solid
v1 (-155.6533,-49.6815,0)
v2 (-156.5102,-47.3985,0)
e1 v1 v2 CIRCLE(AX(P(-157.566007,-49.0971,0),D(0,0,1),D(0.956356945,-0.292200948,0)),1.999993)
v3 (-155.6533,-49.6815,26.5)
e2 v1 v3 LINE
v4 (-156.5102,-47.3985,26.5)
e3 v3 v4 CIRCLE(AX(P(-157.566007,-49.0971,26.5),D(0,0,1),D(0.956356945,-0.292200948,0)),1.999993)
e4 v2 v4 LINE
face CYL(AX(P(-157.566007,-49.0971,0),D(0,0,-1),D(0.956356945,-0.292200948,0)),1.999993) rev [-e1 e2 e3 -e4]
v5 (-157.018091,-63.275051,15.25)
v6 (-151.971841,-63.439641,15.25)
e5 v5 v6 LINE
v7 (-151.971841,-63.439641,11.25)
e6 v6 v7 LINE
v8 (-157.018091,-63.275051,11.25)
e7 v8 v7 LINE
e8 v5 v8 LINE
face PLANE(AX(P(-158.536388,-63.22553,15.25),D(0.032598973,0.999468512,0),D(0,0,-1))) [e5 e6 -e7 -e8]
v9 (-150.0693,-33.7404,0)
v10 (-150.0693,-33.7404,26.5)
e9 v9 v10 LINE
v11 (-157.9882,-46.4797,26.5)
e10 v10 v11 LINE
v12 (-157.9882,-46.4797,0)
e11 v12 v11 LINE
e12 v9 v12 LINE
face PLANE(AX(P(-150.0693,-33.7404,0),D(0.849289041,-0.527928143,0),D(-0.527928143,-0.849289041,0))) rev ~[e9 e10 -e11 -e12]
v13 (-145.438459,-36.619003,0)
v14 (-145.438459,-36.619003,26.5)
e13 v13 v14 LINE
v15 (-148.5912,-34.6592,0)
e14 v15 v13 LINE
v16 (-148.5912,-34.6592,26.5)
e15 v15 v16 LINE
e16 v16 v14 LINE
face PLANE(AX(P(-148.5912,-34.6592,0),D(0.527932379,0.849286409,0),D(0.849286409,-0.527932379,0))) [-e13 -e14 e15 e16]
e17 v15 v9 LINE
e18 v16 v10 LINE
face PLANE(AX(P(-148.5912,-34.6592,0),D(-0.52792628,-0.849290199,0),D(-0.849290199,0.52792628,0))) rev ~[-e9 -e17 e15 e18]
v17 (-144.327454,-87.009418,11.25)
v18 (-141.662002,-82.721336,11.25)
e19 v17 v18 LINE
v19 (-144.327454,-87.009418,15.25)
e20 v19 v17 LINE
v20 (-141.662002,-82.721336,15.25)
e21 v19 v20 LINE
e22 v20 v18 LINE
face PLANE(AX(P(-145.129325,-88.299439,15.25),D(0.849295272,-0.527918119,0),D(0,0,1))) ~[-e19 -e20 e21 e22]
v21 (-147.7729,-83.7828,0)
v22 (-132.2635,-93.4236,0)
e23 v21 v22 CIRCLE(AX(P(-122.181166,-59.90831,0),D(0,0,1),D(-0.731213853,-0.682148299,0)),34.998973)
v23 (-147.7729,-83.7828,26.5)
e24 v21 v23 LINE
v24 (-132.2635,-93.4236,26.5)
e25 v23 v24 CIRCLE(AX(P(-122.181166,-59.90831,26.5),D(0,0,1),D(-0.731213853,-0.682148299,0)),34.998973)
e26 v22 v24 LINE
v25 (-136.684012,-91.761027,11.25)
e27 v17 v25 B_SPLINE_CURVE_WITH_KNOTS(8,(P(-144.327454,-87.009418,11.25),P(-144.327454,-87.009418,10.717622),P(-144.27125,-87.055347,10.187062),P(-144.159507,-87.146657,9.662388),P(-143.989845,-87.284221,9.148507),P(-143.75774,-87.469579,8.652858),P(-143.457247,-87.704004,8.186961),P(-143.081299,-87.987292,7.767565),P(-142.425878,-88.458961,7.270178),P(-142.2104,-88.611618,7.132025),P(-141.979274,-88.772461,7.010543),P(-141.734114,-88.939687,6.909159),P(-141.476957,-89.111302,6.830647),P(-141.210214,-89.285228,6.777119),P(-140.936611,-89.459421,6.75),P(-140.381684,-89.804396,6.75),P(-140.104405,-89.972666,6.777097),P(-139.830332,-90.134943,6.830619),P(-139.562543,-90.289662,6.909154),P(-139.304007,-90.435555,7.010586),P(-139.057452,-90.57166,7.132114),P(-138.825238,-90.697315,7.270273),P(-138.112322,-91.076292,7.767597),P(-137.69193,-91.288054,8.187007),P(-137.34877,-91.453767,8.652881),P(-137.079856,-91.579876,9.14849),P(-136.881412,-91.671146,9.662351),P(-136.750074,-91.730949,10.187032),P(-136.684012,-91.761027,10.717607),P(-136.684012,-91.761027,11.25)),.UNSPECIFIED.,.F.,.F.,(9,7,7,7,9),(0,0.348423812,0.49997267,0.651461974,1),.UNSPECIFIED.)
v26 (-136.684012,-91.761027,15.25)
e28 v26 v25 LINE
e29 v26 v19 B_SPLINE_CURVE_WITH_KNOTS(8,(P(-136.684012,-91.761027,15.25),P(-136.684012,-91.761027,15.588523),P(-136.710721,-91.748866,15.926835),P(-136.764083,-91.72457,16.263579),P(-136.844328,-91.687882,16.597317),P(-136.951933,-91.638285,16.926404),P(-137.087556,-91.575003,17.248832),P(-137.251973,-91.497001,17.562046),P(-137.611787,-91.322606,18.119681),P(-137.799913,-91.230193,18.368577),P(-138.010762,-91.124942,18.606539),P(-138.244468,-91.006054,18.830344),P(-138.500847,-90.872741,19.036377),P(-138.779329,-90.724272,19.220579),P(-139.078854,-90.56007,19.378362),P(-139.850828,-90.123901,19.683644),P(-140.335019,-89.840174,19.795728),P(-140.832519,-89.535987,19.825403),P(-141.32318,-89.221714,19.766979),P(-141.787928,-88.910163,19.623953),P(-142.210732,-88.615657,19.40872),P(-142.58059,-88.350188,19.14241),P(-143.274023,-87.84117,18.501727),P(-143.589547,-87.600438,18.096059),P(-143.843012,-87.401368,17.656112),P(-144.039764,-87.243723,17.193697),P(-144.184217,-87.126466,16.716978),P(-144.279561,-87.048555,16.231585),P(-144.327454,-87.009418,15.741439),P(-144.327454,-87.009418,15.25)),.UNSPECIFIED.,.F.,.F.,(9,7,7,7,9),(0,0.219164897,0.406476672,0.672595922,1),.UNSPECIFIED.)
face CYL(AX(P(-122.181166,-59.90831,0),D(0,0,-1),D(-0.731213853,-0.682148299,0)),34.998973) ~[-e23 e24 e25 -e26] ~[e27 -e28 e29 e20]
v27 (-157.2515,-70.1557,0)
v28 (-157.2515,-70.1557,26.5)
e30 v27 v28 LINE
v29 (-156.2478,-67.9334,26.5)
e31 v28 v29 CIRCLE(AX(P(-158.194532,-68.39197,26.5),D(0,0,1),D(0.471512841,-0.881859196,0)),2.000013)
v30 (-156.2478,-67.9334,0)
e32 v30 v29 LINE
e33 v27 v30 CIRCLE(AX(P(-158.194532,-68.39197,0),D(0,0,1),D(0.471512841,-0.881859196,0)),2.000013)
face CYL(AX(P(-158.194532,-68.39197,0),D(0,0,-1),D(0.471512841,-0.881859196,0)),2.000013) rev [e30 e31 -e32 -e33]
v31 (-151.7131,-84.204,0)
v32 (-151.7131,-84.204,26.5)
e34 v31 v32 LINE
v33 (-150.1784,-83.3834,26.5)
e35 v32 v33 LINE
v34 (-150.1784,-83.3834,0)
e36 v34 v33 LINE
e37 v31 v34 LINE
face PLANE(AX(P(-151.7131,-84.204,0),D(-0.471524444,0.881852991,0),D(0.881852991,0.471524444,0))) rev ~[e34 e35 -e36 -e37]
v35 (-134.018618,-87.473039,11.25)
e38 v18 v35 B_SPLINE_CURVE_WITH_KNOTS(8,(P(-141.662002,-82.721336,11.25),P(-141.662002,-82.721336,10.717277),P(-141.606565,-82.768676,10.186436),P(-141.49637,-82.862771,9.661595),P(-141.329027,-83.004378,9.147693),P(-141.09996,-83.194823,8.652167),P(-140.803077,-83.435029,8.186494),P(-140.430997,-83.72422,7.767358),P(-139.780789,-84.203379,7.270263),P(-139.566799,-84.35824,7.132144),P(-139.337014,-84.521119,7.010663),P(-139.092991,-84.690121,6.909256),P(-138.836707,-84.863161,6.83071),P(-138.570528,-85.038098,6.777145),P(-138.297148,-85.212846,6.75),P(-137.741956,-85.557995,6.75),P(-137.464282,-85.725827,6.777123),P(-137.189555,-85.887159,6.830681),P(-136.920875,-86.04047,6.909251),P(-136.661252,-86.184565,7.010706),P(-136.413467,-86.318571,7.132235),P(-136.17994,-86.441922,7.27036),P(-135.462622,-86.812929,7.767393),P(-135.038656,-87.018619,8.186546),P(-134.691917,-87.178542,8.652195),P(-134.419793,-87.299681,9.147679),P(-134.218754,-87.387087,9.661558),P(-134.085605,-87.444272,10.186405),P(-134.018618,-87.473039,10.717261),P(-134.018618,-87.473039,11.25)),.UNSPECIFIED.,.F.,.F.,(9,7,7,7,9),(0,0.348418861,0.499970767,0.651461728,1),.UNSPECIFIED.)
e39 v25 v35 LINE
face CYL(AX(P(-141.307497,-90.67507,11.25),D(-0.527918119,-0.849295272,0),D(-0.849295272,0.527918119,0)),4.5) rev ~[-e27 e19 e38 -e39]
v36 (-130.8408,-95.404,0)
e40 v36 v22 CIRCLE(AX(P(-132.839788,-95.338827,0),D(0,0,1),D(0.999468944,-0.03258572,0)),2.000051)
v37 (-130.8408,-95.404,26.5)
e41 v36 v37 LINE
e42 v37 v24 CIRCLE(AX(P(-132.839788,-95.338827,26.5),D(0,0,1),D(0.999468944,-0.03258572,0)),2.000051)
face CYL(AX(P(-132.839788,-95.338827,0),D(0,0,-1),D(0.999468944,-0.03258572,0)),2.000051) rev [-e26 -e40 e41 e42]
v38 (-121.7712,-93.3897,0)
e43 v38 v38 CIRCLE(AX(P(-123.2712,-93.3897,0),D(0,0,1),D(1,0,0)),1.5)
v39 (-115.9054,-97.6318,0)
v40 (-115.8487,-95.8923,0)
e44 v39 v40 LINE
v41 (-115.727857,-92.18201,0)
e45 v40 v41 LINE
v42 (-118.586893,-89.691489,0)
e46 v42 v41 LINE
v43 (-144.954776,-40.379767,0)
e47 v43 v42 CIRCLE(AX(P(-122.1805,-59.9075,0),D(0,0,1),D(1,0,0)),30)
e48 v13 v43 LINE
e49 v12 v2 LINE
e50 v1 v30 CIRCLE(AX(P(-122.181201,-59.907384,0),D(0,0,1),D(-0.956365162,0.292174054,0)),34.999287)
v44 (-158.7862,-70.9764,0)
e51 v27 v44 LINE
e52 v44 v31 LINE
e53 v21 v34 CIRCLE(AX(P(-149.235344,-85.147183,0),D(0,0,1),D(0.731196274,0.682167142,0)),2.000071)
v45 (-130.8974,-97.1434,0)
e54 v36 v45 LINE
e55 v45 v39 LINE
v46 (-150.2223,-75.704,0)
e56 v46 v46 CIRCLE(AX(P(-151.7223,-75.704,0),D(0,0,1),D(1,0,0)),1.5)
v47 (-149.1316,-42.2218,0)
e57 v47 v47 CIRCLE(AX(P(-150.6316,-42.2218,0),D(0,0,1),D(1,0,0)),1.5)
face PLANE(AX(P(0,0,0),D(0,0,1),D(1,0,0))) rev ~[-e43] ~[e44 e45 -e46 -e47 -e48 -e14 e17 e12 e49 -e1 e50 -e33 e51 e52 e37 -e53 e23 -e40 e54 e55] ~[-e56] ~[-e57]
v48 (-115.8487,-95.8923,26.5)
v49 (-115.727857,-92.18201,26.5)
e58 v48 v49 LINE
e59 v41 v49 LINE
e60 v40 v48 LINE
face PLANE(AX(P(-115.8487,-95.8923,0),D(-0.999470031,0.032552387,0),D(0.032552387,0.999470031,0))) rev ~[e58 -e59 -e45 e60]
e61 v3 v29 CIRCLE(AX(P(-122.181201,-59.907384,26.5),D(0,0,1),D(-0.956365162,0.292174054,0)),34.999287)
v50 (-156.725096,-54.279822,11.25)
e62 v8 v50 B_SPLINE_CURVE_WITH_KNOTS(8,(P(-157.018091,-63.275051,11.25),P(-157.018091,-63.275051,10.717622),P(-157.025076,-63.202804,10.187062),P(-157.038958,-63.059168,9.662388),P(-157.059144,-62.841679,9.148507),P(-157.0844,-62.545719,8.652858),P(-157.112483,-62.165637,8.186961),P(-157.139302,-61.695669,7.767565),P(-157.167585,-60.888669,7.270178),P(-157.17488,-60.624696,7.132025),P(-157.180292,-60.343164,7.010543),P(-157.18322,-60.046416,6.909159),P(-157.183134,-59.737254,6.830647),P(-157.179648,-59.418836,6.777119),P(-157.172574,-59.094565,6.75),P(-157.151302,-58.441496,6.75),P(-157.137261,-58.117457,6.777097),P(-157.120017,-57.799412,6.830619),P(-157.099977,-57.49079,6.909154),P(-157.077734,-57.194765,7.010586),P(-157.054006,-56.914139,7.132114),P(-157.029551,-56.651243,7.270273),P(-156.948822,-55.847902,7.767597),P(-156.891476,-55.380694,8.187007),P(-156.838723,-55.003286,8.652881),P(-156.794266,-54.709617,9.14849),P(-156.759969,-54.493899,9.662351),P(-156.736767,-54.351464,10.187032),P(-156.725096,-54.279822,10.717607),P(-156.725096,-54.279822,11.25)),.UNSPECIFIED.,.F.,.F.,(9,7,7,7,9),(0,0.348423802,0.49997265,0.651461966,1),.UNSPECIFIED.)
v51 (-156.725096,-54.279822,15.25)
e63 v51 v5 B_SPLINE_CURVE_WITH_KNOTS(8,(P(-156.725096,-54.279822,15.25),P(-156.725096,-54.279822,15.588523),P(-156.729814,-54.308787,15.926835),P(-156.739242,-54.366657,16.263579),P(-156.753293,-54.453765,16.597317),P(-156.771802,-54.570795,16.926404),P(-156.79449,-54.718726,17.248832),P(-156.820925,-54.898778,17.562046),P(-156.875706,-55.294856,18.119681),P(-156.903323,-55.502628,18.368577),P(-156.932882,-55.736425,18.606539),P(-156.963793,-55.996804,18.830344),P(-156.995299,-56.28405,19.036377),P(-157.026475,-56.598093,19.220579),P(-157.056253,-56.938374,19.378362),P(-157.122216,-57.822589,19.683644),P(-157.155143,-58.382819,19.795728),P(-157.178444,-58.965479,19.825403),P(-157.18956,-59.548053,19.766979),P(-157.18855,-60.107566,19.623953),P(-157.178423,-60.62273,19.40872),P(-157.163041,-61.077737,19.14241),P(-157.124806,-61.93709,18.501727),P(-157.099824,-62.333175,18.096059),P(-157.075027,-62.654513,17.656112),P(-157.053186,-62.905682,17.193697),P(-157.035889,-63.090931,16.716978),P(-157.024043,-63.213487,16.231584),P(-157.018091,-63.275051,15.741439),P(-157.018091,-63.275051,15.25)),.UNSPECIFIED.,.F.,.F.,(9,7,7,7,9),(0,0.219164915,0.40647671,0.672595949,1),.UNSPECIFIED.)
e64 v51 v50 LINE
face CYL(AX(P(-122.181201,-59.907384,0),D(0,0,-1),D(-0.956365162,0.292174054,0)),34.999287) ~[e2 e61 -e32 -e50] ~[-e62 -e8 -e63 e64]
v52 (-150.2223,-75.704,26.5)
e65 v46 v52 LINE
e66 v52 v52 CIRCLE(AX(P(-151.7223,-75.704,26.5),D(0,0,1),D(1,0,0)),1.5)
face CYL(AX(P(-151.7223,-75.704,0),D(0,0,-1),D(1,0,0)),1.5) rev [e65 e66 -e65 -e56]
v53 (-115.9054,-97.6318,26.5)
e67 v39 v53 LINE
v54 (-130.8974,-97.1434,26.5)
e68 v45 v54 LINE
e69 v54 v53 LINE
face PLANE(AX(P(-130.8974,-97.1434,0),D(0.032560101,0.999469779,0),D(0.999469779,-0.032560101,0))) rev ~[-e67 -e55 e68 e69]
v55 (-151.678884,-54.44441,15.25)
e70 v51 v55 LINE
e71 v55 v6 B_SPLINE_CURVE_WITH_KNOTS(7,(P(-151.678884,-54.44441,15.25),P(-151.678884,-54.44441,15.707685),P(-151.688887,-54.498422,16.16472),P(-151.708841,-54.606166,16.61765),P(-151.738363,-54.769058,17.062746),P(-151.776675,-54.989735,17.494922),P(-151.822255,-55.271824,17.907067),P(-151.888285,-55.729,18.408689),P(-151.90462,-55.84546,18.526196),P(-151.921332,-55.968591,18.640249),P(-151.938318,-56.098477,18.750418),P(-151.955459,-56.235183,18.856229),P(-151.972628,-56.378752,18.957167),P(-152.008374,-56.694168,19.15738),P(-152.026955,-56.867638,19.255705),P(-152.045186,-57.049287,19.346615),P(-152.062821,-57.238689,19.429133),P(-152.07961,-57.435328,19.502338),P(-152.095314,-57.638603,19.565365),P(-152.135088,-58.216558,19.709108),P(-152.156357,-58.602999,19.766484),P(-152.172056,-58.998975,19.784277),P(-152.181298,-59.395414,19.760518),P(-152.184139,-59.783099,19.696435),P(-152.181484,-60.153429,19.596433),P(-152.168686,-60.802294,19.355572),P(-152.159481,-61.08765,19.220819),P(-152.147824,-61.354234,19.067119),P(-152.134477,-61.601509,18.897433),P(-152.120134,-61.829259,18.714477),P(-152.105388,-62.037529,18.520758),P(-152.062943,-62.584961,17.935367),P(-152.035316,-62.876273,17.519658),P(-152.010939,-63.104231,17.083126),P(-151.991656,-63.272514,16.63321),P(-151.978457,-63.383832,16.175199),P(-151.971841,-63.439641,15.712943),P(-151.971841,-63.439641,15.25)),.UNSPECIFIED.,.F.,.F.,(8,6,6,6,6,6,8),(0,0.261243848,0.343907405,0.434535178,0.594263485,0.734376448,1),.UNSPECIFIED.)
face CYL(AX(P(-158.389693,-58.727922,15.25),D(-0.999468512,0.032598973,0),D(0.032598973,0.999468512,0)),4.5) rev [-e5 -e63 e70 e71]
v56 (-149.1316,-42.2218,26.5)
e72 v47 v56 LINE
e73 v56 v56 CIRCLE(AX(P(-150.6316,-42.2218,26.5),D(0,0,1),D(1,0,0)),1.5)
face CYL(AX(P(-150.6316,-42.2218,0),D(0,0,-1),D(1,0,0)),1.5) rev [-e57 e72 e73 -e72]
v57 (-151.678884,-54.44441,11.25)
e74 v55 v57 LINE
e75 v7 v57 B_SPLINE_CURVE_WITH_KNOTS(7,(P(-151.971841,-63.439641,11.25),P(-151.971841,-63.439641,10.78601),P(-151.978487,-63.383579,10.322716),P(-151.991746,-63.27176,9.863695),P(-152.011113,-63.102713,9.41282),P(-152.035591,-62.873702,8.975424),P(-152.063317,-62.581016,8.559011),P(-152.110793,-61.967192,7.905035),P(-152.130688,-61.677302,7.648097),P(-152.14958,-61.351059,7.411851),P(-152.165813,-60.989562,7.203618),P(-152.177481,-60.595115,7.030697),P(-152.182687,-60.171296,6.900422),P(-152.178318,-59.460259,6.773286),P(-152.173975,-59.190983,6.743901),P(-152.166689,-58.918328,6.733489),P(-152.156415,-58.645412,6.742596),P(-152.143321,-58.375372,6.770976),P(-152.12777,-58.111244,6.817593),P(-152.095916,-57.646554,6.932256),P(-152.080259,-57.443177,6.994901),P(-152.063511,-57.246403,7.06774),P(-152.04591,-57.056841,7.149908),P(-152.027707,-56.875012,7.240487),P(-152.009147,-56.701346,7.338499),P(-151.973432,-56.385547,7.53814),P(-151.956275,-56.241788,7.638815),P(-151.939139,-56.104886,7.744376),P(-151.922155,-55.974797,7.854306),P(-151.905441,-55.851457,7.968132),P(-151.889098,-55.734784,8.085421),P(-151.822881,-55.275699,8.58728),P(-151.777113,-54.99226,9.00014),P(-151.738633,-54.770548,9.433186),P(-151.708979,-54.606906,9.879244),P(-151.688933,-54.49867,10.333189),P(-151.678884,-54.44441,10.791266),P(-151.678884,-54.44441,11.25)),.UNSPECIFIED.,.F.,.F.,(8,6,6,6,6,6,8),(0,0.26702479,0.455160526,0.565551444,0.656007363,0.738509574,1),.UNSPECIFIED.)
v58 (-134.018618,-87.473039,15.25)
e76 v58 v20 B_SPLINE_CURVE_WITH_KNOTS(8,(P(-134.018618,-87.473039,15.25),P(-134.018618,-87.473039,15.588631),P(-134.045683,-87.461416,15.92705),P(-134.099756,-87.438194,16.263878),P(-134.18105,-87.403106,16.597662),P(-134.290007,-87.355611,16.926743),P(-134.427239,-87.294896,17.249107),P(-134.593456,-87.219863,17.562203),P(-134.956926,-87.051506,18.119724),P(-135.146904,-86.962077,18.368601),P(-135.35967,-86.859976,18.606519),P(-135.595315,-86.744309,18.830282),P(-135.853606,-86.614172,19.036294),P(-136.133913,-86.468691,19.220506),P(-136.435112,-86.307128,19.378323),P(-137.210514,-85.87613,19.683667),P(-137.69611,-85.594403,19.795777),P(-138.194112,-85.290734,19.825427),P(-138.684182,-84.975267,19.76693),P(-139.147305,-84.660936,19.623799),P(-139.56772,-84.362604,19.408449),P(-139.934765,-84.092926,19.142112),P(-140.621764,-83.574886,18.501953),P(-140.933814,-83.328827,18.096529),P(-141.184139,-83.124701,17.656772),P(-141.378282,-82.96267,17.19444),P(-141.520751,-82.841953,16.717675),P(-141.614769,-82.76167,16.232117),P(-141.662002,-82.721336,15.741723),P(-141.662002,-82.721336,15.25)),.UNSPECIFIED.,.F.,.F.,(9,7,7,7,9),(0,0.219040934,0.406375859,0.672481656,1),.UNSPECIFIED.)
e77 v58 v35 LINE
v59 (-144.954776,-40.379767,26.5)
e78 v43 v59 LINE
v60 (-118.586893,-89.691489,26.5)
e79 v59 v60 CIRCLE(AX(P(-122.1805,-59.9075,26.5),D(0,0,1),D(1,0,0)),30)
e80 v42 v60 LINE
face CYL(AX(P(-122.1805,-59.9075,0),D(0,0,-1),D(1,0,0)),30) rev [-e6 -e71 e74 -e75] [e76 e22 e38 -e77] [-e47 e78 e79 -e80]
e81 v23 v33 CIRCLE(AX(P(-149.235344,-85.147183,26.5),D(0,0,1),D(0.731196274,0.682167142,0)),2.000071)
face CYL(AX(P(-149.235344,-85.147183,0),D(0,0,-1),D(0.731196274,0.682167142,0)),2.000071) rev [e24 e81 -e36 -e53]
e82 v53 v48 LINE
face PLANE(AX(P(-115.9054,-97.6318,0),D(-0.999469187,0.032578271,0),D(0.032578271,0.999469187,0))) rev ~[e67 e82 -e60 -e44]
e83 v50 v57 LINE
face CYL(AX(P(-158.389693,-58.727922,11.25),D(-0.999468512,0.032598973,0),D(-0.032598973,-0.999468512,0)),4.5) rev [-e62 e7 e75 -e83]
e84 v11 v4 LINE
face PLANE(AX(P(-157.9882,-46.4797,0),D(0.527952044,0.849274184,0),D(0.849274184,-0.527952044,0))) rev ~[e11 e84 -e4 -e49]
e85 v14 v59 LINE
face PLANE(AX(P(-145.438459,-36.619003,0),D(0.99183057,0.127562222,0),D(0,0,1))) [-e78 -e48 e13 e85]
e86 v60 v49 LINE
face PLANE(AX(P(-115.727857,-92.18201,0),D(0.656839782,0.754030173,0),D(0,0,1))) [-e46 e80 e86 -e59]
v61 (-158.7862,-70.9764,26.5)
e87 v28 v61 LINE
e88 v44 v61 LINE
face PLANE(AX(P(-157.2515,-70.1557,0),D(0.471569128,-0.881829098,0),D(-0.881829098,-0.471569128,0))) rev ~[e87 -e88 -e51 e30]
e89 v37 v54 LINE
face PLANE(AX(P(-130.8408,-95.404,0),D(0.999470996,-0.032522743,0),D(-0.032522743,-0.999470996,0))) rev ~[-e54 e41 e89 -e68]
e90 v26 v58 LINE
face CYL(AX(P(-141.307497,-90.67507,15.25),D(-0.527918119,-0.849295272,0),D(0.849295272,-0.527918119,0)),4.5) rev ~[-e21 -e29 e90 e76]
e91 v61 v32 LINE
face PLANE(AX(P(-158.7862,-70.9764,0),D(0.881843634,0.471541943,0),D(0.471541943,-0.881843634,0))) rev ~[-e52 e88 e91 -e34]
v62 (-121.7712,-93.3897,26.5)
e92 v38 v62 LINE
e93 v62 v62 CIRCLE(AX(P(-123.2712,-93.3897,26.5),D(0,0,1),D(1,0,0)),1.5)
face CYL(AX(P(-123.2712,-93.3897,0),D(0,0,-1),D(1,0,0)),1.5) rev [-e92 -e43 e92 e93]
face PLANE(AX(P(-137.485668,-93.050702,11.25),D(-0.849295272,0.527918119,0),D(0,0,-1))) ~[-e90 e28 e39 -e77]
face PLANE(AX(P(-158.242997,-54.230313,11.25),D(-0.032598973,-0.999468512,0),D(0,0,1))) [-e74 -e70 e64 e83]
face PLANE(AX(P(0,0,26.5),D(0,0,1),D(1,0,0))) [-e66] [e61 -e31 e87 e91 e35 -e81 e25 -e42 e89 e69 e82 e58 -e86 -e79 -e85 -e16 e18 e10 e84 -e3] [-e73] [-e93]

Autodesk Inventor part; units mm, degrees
ref_plane "Work Plane1" through (0, 0, 0) normal (0, 0, 1) x (1, 0, 0)
sketch "Sketch1" plane through (0, 0, 0) normal (0, 0, 1) x (1, 0, 0)
  line L0 (-114.7595, -23.8164) -> (-86.516, -0.3214) projected
  arc A0 (-83.238, -1.9261) -> (-86.516, -0.3214) centre (-85.2369, -1.8589) ccw projected
  arc A1 (-83.238, -1.9261) -> (-80.4978, -22.1613) centre (-22.2724, -3.9734) ccw projected
  arc A2 (-84.3159, -27.354) -> (-80.4978, -22.1613) centre (-84.3159, -23.354) ccw projected
  line L1 (-84.3159, -27.354) -> (-113.4805, -27.354) projected
  arc A3 (-114.7595, -23.8164) -> (-113.4805, -27.354) centre (-113.4805, -25.354) ccw projected
  circle A4 centre (71.296, -16.8454) radius 1.5 projected
  circle A5 centre (-18.8152, -59.8032) radius 1.5 projected
  circle A6 centre (-53.4562, -50.8504) radius 1.5 projected
  circle A7 centre (-60.8075, 36.5725) radius 1.5 projected
  circle A8 centre (-28.5162, 51.9811) radius 1.5 projected
  circle A9 centre (-9.173, 50.4079) radius 1.5 projected
  circle A10 centre (-44.8423, 47.6065) radius 1.5 projected
  circle A11 centre (-67.2628, -37.2117) radius 1.5 projected
  circle A12 centre (-38.1378, -57.9935) radius 1.5 projected
  circle A13 centre (45.81, -34.6909) radius 1.5 projected
  circle A14 centre (-22.2724, -3.9734) radius 24.5 projected
  line L2 (17.4995, 54.7179) -> (28.6687, 48.4472) projected
  line L3 (8.4026, 48.2499) -> (17.4995, 54.7179) projected
  arc A15 (6.5013, 48.0227) -> (8.4026, 48.2499) centre (7.2436, 49.8798) ccw projected
  line L4 (-7.3529, 53.5603) -> (6.5013, 48.0227) projected
  arc A16 (-7.3529, 53.5603) -> (-12.4241, 54.6417) centre (-22.2724, -3.9734) ccw projected
  line L5 (-12.5849, 53.6843) -> (-12.4241, 54.6417) projected
  arc A17 (-14.821, 52.0331) -> (-12.5849, 53.6843) centre (-14.5573, 54.0157) ccw projected
  arc A18 (-14.821, 52.0331) -> (-23.537, 52.5125) centre (-22.2724, -3.9734) ccw projected
  arc A19 (-25.5786, 54.3989) -> (-23.537, 52.5125) centre (-23.5818, 54.512) ccw projected
  line L6 (-25.6541, 55.7327) -> (-25.5786, 54.3989) projected
  arc A20 (-25.6541, 55.7327) -> (-31.8766, 55.0521) centre (-22.2724, -3.9734) ccw projected
  line L7 (-43.4677, 51.9463) -> (-31.8766, 55.0521) projected
  arc A21 (-43.4677, 51.9463) -> (-49.1968, 49.4245) centre (-22.2724, -3.9734) ccw projected
  line L8 (-48.5953, 48.2316) -> (-49.1968, 49.4245) projected
  arc A22 (-49.4201, 45.5771) -> (-48.5953, 48.2316) centre (-50.3811, 47.3311) ccw projected
  arc A23 (-49.4201, 45.5771) -> (-56.7287, 40.804) centre (-22.2724, -3.9734) ccw projected
  arc A24 (-59.4908, 41.1159) -> (-56.7287, 40.804) centre (-57.9484, 42.389) ccw projected
  line L9 (-60.1088, 41.8646) -> (-59.4908, 41.1159) projected
  arc A25 (-60.1088, 41.8646) -> (-63.9599, 38.3925) centre (-22.2724, -3.9734) ccw projected
  line L10 (-73.8637, 25.8129) -> (-63.9599, 38.3925) projected
  line L11 (-73.8637, 25.8129) -> (-144.5637, -33.0004) projected
  arc A26 (-144.5637, -33.0004) -> (-146.1648, -34.4172) centre (-122.1805, -59.9075) ccw projected
  arc A27 (-148.5912, -34.6592) -> (-146.1648, -34.4172) centre (-147.5353, -32.9607) ccw projected
  line L12 (-148.5912, -34.6592) -> (-150.0693, -33.7404) projected
  line L13 (-150.0693, -33.7404) -> (-157.9882, -46.4797) projected
  line L14 (-157.9882, -46.4797) -> (-156.5102, -47.3985) projected
  arc A28 (-155.6533, -49.6815) -> (-156.5102, -47.3985) centre (-157.566, -49.0971) ccw projected
  arc A29 (-155.6533, -49.6815) -> (-156.2478, -67.9334) centre (-122.1805, -59.9075) ccw projected
  arc A30 (-157.2515, -70.1557) -> (-156.2478, -67.9334) centre (-158.1945, -68.392) ccw projected
  line L15 (-157.2515, -70.1557) -> (-158.7862, -70.9764) projected
  line L16 (-158.7862, -70.9764) -> (-151.7131, -84.204) projected
  line L17 (-151.7131, -84.204) -> (-150.1784, -83.3834) projected
  arc A31 (-147.7729, -83.7828) -> (-150.1784, -83.3834) centre (-149.2353, -85.1471) ccw projected
  arc A32 (-147.7729, -83.7828) -> (-132.2635, -93.4236) centre (-122.1805, -59.9075) ccw projected
  arc A33 (-130.8408, -95.404) -> (-132.2635, -93.4236) centre (-132.8397, -95.3388) ccw projected
  line L18 (-130.8408, -95.404) -> (-130.8974, -97.1434) projected
  line L19 (-130.8974, -97.1434) -> (-115.9054, -97.6318) projected
  line L20 (-115.9054, -97.6318) -> (-115.8487, -95.8923) projected
  arc A34 (-114.3001, -94.0088) -> (-115.8487, -95.8923) centre (-113.8498, -95.9574) ccw projected
  arc A35 (-114.3001, -94.0088) -> (-111.5272, -93.2468) centre (-122.1805, -59.9075) ccw projected
  line L21 (-111.5272, -93.2468) -> (-17.5702, -63.2237) projected
  line L22 (-1.8974, -59.9532) -> (-17.5702, -63.2237) projected
  line L23 (-3.6226, -55.2133) -> (-1.8974, -59.9532) projected
  arc A36 (-2.4006, -52.6404) -> (-3.6226, -55.2133) centre (-1.7432, -54.5293) ccw projected
  line L24 (40.7711, -37.6143) -> (-2.4006, -52.6404) projected
  arc A37 (41.7759, -37.5336) -> (40.7711, -37.6143) centre (41.4286, -39.5032) ccw projected
  line L25 (49.1414, -38.8323) -> (41.7759, -37.5336) projected
  line L26 (49.5371, -36.5883) -> (49.1414, -38.8323) projected
  arc A38 (51.1536, -34.967) -> (49.5371, -36.5883) centre (51.5067, -36.9355) ccw projected
  arc A39 (51.1536, -34.967) -> (69.7278, -21.9611) centre (46.3856, -8.3913) ccw projected
  arc A40 (71.8042, -20.9967) -> (69.7278, -21.9611) centre (71.4569, -22.9663) ccw projected
  line L27 (74.0482, -21.3924) -> (71.8042, -20.9967) projected
  line L28 (78.128, 1.745) -> (74.0482, -21.3924) projected
  line L29 (78.128, 1.745) -> (69.8258, 3.2089) projected
  arc A41 (28.6687, 48.4472) -> (69.8258, 3.2089) centre (78.5082, 52.4493) ccw projected
  circle A42 centre (46.3856, -8.3913) radius 8 projected
  circle A43 centre (24.8362, 42.9855) radius 2.1 projected
  circle A44 centre (69.0444, -1.2227) radius 2.1 projected
  circle A45 centre (32.9741, 22.501) radius 2.1 projected
  circle A46 centre (48.56, 6.9152) radius 2.1 projected
  line L30 (61.5225, -11.0604) -> (64.993, -11.6723) projected
  arc A47 (66.5678, -14.1946) -> (64.993, -11.6723) centre (64.6457, -13.6419) ccw projected
  arc A48 (55.6053, -27.2592) -> (66.5678, -14.1946) centre (46.3856, -8.3913) ccw projected
  arc A49 (52.8479, -26.1463) -> (55.6053, -27.2592) centre (54.7273, -25.4622) ccw projected
  line L31 (52.8479, -26.1463) -> (51.6426, -22.8348) projected
  arc A50 (52.6012, -20.3753) -> (51.6426, -22.8348) centre (53.522, -22.1507) ccw projected
  arc A51 (52.6012, -20.3753) -> (59.2669, -12.4314) centre (46.3856, -8.3913) ccw projected
  arc A52 (61.5225, -11.0604) -> (59.2669, -12.4314) centre (61.1752, -13.03) ccw projected
  arc A53 (28.8077, -30.3754) -> (33.319, -18.6649) centre (-22.2724, -3.9734) ccw projected
  arc A54 (36.6892, -17.7843) -> (33.319, -18.6649) centre (35.2527, -19.1759) ccw projected
  arc A55 (36.6892, -17.7843) -> (42.4768, -21.313) centre (46.3856, -8.3913) ccw projected
  arc A56 (43.0588, -24.8558) -> (42.4768, -21.313) centre (41.8977, -23.2274) ccw projected
  line L32 (43.0588, -24.8558) -> (31.7455, -32.9222) projected
  arc A57 (28.8077, -30.3754) -> (31.7455, -32.9222) centre (30.5844, -31.2938) ccw projected
  arc A58 (36.3695, 11.8712) -> (41.3146, 7.2953) centre (78.5082, 52.4493) ccw projected
  arc A59 (40.8614, 3.9267) -> (41.3146, 7.2953) centre (40.043, 5.7516) ccw projected
  arc A60 (40.8614, 3.9267) -> (37.576, 1.8381) centre (46.3856, -8.3913) ccw projected
  arc A61 (34.2864, 3.1052) -> (37.576, 1.8381) centre (36.2709, 3.3536) ccw projected
  arc A62 (34.2864, 3.1052) -> (32.9898, 9.9939) centre (-22.2724, -3.9734) ccw projected
  arc A63 (36.3695, 11.8712) -> (32.9898, 9.9939) centre (34.9289, 10.4839) ccw projected
  circle A64 centre (-78.0027, -75.3364) radius 2 projected
  circle A65 centre (-110.6431, -14.2192) radius 2 projected
  circle A66 centre (-91.7471, -81.3441) radius 2 projected
  circle A67 centre (-123.1684, -22.4726) radius 2 projected
  circle A68 centre (-123.2712, -93.3897) radius 1.5 projected
  circle A69 centre (-150.6316, -42.2218) radius 1.5 projected
  circle A70 centre (-151.7223, -75.704) radius 1.5 projected
  circle A71 centre (-76.5892, -34.383) radius 2.05 projected
  circle A72 centre (-93.5857, -34.7301) radius 2.05 projected
  circle A73 centre (-85.7696, -48.6911) radius 2.05 projected
  line L33 (25.2192, -8.9275) -> (12.7605, -6.9639) projected
  arc A74 (10.2276, -3.9982) -> (12.7605, -6.9639) centre (13.2276, -4.0005) ccw projected
  arc A75 (10.2276, -3.9982) -> (9.854, 0.9403) centre (-22.2724, -3.9734) ccw projected
  arc A76 (12.117, 4.3104) -> (9.854, 0.9403) centre (12.8195, 1.3938) ccw projected
  line L34 (12.117, 4.3104) -> (24.3016, 7.2454) projected
  arc A77 (27.9589, 4.8477) -> (24.3016, 7.2454) centre (25.0042, 4.3289) ccw projected
  arc A78 (28.6837, -6.0885) -> (27.9589, 4.8477) centre (-22.2724, -3.9734) ccw projected
  arc A79 (25.2192, -8.9275) -> (28.6837, -6.0885) centre (25.6863, -5.9641) ccw projected
  line L35 (18.5933, -28.9733) -> (7.9021, -22.4328) projected
  arc A80 (6.7854, -18.53) -> (7.9021, -22.4328) centre (9.4676, -19.8737) ccw projected
  arc A81 (6.7854, -18.53) -> (8.6598, -13.9459) centre (-22.2724, -3.9734) ccw projected
  arc A82 (11.9821, -11.903) -> (8.6598, -13.9459) centre (11.515, -14.8664) ccw projected
  line L36 (11.9821, -11.903) -> (24.4408, -13.8666) projected
  arc A83 (26.8641, -17.6335) -> (24.4408, -13.8666) centre (23.9738, -16.83) ccw projected
  arc A84 (22.8108, -27.8167) -> (26.8641, -17.6335) centre (-22.2724, -3.9734) ccw projected
  arc A85 (18.5933, -28.9733) -> (22.8108, -27.8167) centre (20.1588, -26.4142) ccw projected
  line L37 (-4.4447, -43.3488) -> (-7.3459, -35.8081) projected
  arc A86 (-6.0439, -32.1316) -> (-7.3459, -35.8081) centre (-4.5459, -34.7308) ccw projected
  arc A87 (-6.0439, -32.1316) -> (-1.9539, -29.3388) centre (-22.2724, -3.9734) ccw projected
  arc A88 (2.0962, -29.6136) -> (-1.9539, -29.3388) centre (-0.0783, -31.6803) ccw projected
  line L38 (2.0962, -29.6136) -> (7.6236, -35.4294) projected
  arc A89 (7.3609, -39.808) -> (7.6236, -35.4294) centre (5.449, -37.4961) ccw projected
  arc A90 (-0.2222, -44.9128) -> (7.3609, -39.808) centre (-22.2724, -3.9734) ccw projected
  arc A91 (-4.4447, -43.3488) -> (-0.2222, -44.9128) centre (-1.6448, -42.2715) ccw projected
  line L39 (-23.3755, -47.3558) -> (-23.1715, -39.3349) projected
  arc A92 (-20.35, -36.4165) -> (-23.1715, -39.3349) centre (-20.1725, -39.4112) ccw projected
  arc A93 (-20.35, -36.4165) -> (-15.4428, -35.7477) centre (-22.2724, -3.9734) ccw projected
  arc A94 (-12.0124, -37.6034) -> (-15.4428, -35.7477) centre (-14.8123, -38.6807) ccw projected
  line L40 (-12.0124, -37.6034) -> (-9.1112, -45.1441) projected
  arc A95 (-11.1966, -49.135) -> (-9.1112, -45.1441) centre (-11.9112, -46.2214) ccw projected
  arc A96 (-20.2457, -50.4292) -> (-11.1966, -49.135) centre (-22.2724, -3.9734) ccw projected
  arc A97 (-23.3755, -47.3558) -> (-20.2457, -50.4292) centre (-20.3765, -47.432) ccw projected
  line L41 (-50.3087, -42.6252) -> (-42.3788, -32.8175) projected
  arc A98 (-38.5439, -32.1067) -> (-42.3788, -32.8175) centre (-40.0459, -34.7037) ccw projected
  arc A99 (-38.5439, -32.1067) -> (-34.0803, -34.2525) centre (-22.2724, -3.9734) ccw projected
  arc A100 (-32.2932, -37.8973) -> (-34.0803, -34.2525) centre (-35.1703, -37.0474) ccw projected
  line L42 (-32.2932, -37.8973) -> (-35.8437, -49.917) projected
  arc A101 (-39.7488, -51.8855) -> (-35.8437, -49.917) centre (-38.7208, -49.0672) ccw projected
  arc A102 (-49.5823, -47.0451) -> (-39.7488, -51.8855) centre (-22.2724, -3.9734) ccw projected
  arc A103 (-50.3087, -42.6252) -> (-49.5823, -47.0451) centre (-47.9758, -44.5114) ccw projected
  line L43 (-64.3558, -26.8641) -> (-53.346, -20.8755) projected
  arc A104 (-49.4077, -21.8598) -> (-53.346, -20.8755) centre (-51.9125, -23.5108) ccw projected
  arc A105 (-49.4077, -21.8598) -> (-46.3749, -25.7752) centre (-22.2724, -3.9734) ccw projected
  arc A106 (-46.2669, -29.6738) -> (-46.3749, -25.7752) centre (-48.5998, -27.7876) ccw projected
  line L44 (-46.2669, -29.6738) -> (-54.1968, -39.4816) projected
  arc A107 (-58.6707, -39.6968) -> (-54.1968, -39.4816) centre (-56.5296, -37.5954) ccw projected
  arc A108 (-65.463, -31.0949) -> (-58.6707, -39.6968) centre (-22.2724, -3.9734) ccw projected
  arc A109 (-64.3558, -26.8641) -> (-65.463, -31.0949) centre (-62.9223, -29.4995) ccw projected
  line L45 (-65.2864, 0.2751) -> (-57.3053, -0.9828) projected
  arc A110 (-54.7724, -3.9485) -> (-57.3053, -0.9828) centre (-57.7724, -3.9462) ccw projected
  arc A111 (-54.7724, -3.9485) -> (-54.3988, -8.887) centre (-22.2724, -3.9734) ccw projected
  arc A112 (-56.6618, -12.2571) -> (-54.3988, -8.887) centre (-57.3643, -9.3405) ccw projected
  line L46 (-56.6618, -12.2571) -> (-64.4621, -14.1361) projected
  arc A113 (-68.1227, -11.7192) -> (-64.4621, -14.1361) centre (-65.1646, -11.2195) ccw projected
  arc A114 (-68.7521, -2.5997) -> (-68.1227, -11.7192) centre (-22.2724, -3.9734) ccw projected
  arc A115 (-65.2864, 0.2751) -> (-68.7521, -2.5997) centre (-65.7534, -2.6883) ccw projected
  line L47 (-59.2911, 18.6731) -> (-52.4469, 14.4861) projected
  arc A116 (-51.3302, 10.5833) -> (-52.4469, 14.4861) centre (-54.0124, 11.927) ccw projected
  arc A117 (-51.3302, 10.5833) -> (-53.2046, 5.9991) centre (-22.2724, -3.9734) ccw projected
  arc A118 (-56.5269, 3.9563) -> (-53.2046, 5.9991) centre (-56.0599, 6.9197) ccw projected
  line L48 (-56.5269, 3.9563) -> (-64.5079, 5.2141) projected
  arc A119 (-66.9215, 9.0155) -> (-64.5079, 5.2141) centre (-64.0409, 8.1775) ccw projected
  arc A120 (-63.5177, 17.4994) -> (-66.9215, 9.0155) centre (-22.2724, -3.9734) ccw projected
  arc A121 (-59.2911, 18.6731) -> (-63.5177, 17.4994) centre (-60.8567, 16.114) ccw projected
  line L49 (-41.7278, 39.6327) -> (-37.199, 27.8613) projected
  arc A122 (-38.5009, 24.1849) -> (-37.199, 27.8613) centre (-39.9989, 26.7841) ccw projected
  arc A123 (-38.5009, 24.1849) -> (-42.5909, 21.3921) centre (-22.2724, -3.9734) ccw projected
  arc A124 (-46.641, 21.6668) -> (-42.5909, 21.3921) centre (-44.4665, 23.7336) ccw projected
  line L50 (-46.641, 21.6668) -> (-55.2752, 30.7515) projected
  arc A125 (-55.0274, 35.1177) -> (-55.2752, 30.7515) centre (-53.1006, 32.8182) ccw projected
  arc A126 (-45.9187, 41.2135) -> (-55.0274, 35.1177) centre (-22.2724, -3.9734) ccw projected
  arc A127 (-41.7278, 39.6327) -> (-45.9187, 41.2135) centre (-44.5277, 38.5555) ccw projected
  line L51 (-21.0547, 43.9173) -> (-21.3733, 31.3882) projected
  arc A128 (-24.1948, 28.4697) -> (-21.3733, 31.3882) centre (-24.3723, 31.4645) ccw projected
  arc A129 (-24.1948, 28.4697) -> (-29.1021, 27.8009) centre (-22.2724, -3.9734) ccw projected
  arc A130 (-32.5324, 29.6567) -> (-29.1021, 27.8009) centre (-29.7325, 30.7339) ccw projected
  line L52 (-32.5324, 29.6567) -> (-37.0613, 41.4281) projected
  arc A131 (-35.0106, 45.4102) -> (-37.0613, 41.4281) centre (-34.2613, 42.5053) ccw projected
  arc A132 (-24.1651, 46.9915) -> (-35.0106, 45.4102) centre (-22.2724, -3.9734) ccw projected
  arc A133 (-21.0547, 43.9173) -> (-24.1651, 46.9915) centre (-24.0537, 43.9936) ccw projected
  line L53 (5.7638, 34.6785) -> (-2.166, 24.8708) projected
  arc A134 (-6.0009, 24.16) -> (-2.166, 24.8708) centre (-4.4989, 26.757) ccw projected
  arc A135 (-6.0009, 24.16) -> (-10.4645, 26.3057) centre (-22.2724, -3.9734) ccw projected
  arc A136 (-12.2517, 29.9506) -> (-10.4645, 26.3057) centre (-9.3746, 29.1007) ccw projected
  line L54 (-12.2517, 29.9506) -> (-8.7012, 41.9703) projected
  arc A137 (-4.796, 43.9388) -> (-8.7012, 41.9703) centre (-5.8241, 41.1205) ccw projected
  arc A138 (5.0374, 39.0984) -> (-4.796, 43.9388) centre (-22.2724, -3.9734) ccw projected
  arc A139 (5.7638, 34.6785) -> (5.0374, 39.0984) centre (3.431, 36.5647) ccw projected
  circle A140 centre (18.7379, 18.9865) radius 2.05 projected
  circle A141 centre (5.6495, 11.6589) radius 2.05 projected
  arc A142 (-88.373, -68.9659) -> (-87.2274, -61.7195) centre (-122.1805, -59.9075) ccw projected
  arc A143 (-84.7539, -56.3391) -> (-87.2274, -61.7195) centre (-79.2381, -62.1337) ccw projected
  line L55 (-84.7539, -56.3391) -> (-72.896, -45.0519) projected
  arc A144 (-67.1926, -45.2429) -> (-72.896, -45.0519) centre (-70.1382, -47.9491) ccw projected
  arc A145 (-67.1926, -45.2429) -> (-52.2157, -57.1184) centre (-22.2724, -3.9734) ccw projected
  arc A146 (-52.5887, -60.766) -> (-52.2157, -57.1184) centre (-53.1975, -58.8609) ccw projected
  line L56 (-52.5887, -60.766) -> (-85.8324, -71.3887) projected
  arc A147 (-88.373, -68.9659) -> (-85.8324, -71.3887) centre (-86.4412, -69.4836) ccw projected
  arc A148 (-119.4703, -38.0751) -> (-123.464, -37.945) centre (-121.4642, -37.9192) ccw projected
  arc A149 (-100.218, -58.6239) -> (-119.4703, -38.0751) centre (-122.1805, -59.9075) ccw projected
  arc A150 (-100.3481, -62.6177) -> (-100.218, -58.6239) centre (-100.1921, -60.6238) ccw projected
  arc A151 (-120.8969, -81.87) -> (-100.3481, -62.6177) centre (-122.1805, -59.9075) ccw projected
  arc A152 (-124.8907, -81.7399) -> (-120.8969, -81.87) centre (-122.8968, -81.8958) ccw projected
  arc A153 (-144.143, -61.191) -> (-124.8907, -81.7399) centre (-122.1805, -59.9075) ccw projected
  arc A154 (-144.0129, -57.1973) -> (-144.143, -61.191) centre (-144.1688, -59.1912) ccw projected
  arc A155 (-123.464, -37.945) -> (-144.0129, -57.1973) centre (-122.1805, -59.9075) ccw projected
  circle A156 centre (-122.1805, -59.9075) radius 30
  line L57 (-148.5912, -34.6592) -> (-142.8906, -38.2028)
  line L58 (-115.8487, -95.8923) -> (-115.6302, -89.1836)
  point P0 (0, 0)
  dimension "d0" = 60
ref_plane "Work Plane2" through (-195.3769, -166.2263, 26.5) normal (0, 0, -1) x (-0.0309, 0.9995, 0)
extrude "Extrusion1" add sketch "Sketch1" along normal up to surface (26.5 mm away) contours L20 L19 L18 A33 A32 A31 L17 L16 L15 A30 A29 A28 L14 L13 L12 L57 A156 L58
chamfer "Chamfer1" distance 3 angle 45 2 edges at (-142.8906, -38.2028, 13.25) (-115.6302, -89.1836, 13.25)
ref_plane "Work Plane3" through (-157.9882, -46.4797, 0) normal (0.9995, -0.0326, 0) x (0, 0, 1)
sketch "Sketch2" plane through (-157.9882, -46.4797, 0) normal (0.9995, -0.0326, 0) x (0, 0, 1)
  line L0 (26.5, 3.124) -> (26.5, 21.3856) projected
  line L1 (0, 3.124) -> (26.5, 3.124) projected
  line L2 (0, 3.124) -> (0, 21.3856) projected
  line L3 (0, 21.3856) -> (26.5, 21.3856) projected
  line L4 (0, 23.6394) -> (0, 21.3856) projected
  line L5 (26.5, 3.124) -> (0, 21.3856)
  line L6 (0, 21.3856) -> (26.5, 21.3856)
  line L7 (26.5, 23.6394) -> (26.5, 21.3856) projected
  line L8 (26.5, 21.3856) -> (0, 3.124)
  line L9 (15.25, 12.2548) -> (11.25, 12.2548) construction
  line L10 (15.25, 16.7548) -> (11.25, 16.7548)
  line L11 (11.25, 7.7548) -> (15.25, 7.7548)
  arc A0 (15.25, 7.7548) -> (15.25, 16.7548) centre (15.25, 12.2548) ccw
  arc A1 (11.25, 16.7548) -> (11.25, 7.7548) centre (11.25, 12.2548) ccw
  point P0 (0, -51.5989)
  point P1 (13.25, 12.2548)
  dimension "d6" = 2
  dimension "d7" = 9
extrude "Extrusion2" cut sketch "Sketch2" along normal blind 10 contours A0 L11 A1 L8 L5 | L5 L8 A0 | L8 L5 A1 L10 A0 | A1 L5 L8
ref_plane "Work Plane4" through (-114.5435, -55.8238, 26.5) normal (-0.4715, 0.8818, 0) x (0, 0, 1)
mirror "Mirror1" about plane through (-114.5435, -55.8238, 26.5) normal (-0.4715, 0.8818, 0) of "Extrusion2"
properties part number "end_holder_3"
